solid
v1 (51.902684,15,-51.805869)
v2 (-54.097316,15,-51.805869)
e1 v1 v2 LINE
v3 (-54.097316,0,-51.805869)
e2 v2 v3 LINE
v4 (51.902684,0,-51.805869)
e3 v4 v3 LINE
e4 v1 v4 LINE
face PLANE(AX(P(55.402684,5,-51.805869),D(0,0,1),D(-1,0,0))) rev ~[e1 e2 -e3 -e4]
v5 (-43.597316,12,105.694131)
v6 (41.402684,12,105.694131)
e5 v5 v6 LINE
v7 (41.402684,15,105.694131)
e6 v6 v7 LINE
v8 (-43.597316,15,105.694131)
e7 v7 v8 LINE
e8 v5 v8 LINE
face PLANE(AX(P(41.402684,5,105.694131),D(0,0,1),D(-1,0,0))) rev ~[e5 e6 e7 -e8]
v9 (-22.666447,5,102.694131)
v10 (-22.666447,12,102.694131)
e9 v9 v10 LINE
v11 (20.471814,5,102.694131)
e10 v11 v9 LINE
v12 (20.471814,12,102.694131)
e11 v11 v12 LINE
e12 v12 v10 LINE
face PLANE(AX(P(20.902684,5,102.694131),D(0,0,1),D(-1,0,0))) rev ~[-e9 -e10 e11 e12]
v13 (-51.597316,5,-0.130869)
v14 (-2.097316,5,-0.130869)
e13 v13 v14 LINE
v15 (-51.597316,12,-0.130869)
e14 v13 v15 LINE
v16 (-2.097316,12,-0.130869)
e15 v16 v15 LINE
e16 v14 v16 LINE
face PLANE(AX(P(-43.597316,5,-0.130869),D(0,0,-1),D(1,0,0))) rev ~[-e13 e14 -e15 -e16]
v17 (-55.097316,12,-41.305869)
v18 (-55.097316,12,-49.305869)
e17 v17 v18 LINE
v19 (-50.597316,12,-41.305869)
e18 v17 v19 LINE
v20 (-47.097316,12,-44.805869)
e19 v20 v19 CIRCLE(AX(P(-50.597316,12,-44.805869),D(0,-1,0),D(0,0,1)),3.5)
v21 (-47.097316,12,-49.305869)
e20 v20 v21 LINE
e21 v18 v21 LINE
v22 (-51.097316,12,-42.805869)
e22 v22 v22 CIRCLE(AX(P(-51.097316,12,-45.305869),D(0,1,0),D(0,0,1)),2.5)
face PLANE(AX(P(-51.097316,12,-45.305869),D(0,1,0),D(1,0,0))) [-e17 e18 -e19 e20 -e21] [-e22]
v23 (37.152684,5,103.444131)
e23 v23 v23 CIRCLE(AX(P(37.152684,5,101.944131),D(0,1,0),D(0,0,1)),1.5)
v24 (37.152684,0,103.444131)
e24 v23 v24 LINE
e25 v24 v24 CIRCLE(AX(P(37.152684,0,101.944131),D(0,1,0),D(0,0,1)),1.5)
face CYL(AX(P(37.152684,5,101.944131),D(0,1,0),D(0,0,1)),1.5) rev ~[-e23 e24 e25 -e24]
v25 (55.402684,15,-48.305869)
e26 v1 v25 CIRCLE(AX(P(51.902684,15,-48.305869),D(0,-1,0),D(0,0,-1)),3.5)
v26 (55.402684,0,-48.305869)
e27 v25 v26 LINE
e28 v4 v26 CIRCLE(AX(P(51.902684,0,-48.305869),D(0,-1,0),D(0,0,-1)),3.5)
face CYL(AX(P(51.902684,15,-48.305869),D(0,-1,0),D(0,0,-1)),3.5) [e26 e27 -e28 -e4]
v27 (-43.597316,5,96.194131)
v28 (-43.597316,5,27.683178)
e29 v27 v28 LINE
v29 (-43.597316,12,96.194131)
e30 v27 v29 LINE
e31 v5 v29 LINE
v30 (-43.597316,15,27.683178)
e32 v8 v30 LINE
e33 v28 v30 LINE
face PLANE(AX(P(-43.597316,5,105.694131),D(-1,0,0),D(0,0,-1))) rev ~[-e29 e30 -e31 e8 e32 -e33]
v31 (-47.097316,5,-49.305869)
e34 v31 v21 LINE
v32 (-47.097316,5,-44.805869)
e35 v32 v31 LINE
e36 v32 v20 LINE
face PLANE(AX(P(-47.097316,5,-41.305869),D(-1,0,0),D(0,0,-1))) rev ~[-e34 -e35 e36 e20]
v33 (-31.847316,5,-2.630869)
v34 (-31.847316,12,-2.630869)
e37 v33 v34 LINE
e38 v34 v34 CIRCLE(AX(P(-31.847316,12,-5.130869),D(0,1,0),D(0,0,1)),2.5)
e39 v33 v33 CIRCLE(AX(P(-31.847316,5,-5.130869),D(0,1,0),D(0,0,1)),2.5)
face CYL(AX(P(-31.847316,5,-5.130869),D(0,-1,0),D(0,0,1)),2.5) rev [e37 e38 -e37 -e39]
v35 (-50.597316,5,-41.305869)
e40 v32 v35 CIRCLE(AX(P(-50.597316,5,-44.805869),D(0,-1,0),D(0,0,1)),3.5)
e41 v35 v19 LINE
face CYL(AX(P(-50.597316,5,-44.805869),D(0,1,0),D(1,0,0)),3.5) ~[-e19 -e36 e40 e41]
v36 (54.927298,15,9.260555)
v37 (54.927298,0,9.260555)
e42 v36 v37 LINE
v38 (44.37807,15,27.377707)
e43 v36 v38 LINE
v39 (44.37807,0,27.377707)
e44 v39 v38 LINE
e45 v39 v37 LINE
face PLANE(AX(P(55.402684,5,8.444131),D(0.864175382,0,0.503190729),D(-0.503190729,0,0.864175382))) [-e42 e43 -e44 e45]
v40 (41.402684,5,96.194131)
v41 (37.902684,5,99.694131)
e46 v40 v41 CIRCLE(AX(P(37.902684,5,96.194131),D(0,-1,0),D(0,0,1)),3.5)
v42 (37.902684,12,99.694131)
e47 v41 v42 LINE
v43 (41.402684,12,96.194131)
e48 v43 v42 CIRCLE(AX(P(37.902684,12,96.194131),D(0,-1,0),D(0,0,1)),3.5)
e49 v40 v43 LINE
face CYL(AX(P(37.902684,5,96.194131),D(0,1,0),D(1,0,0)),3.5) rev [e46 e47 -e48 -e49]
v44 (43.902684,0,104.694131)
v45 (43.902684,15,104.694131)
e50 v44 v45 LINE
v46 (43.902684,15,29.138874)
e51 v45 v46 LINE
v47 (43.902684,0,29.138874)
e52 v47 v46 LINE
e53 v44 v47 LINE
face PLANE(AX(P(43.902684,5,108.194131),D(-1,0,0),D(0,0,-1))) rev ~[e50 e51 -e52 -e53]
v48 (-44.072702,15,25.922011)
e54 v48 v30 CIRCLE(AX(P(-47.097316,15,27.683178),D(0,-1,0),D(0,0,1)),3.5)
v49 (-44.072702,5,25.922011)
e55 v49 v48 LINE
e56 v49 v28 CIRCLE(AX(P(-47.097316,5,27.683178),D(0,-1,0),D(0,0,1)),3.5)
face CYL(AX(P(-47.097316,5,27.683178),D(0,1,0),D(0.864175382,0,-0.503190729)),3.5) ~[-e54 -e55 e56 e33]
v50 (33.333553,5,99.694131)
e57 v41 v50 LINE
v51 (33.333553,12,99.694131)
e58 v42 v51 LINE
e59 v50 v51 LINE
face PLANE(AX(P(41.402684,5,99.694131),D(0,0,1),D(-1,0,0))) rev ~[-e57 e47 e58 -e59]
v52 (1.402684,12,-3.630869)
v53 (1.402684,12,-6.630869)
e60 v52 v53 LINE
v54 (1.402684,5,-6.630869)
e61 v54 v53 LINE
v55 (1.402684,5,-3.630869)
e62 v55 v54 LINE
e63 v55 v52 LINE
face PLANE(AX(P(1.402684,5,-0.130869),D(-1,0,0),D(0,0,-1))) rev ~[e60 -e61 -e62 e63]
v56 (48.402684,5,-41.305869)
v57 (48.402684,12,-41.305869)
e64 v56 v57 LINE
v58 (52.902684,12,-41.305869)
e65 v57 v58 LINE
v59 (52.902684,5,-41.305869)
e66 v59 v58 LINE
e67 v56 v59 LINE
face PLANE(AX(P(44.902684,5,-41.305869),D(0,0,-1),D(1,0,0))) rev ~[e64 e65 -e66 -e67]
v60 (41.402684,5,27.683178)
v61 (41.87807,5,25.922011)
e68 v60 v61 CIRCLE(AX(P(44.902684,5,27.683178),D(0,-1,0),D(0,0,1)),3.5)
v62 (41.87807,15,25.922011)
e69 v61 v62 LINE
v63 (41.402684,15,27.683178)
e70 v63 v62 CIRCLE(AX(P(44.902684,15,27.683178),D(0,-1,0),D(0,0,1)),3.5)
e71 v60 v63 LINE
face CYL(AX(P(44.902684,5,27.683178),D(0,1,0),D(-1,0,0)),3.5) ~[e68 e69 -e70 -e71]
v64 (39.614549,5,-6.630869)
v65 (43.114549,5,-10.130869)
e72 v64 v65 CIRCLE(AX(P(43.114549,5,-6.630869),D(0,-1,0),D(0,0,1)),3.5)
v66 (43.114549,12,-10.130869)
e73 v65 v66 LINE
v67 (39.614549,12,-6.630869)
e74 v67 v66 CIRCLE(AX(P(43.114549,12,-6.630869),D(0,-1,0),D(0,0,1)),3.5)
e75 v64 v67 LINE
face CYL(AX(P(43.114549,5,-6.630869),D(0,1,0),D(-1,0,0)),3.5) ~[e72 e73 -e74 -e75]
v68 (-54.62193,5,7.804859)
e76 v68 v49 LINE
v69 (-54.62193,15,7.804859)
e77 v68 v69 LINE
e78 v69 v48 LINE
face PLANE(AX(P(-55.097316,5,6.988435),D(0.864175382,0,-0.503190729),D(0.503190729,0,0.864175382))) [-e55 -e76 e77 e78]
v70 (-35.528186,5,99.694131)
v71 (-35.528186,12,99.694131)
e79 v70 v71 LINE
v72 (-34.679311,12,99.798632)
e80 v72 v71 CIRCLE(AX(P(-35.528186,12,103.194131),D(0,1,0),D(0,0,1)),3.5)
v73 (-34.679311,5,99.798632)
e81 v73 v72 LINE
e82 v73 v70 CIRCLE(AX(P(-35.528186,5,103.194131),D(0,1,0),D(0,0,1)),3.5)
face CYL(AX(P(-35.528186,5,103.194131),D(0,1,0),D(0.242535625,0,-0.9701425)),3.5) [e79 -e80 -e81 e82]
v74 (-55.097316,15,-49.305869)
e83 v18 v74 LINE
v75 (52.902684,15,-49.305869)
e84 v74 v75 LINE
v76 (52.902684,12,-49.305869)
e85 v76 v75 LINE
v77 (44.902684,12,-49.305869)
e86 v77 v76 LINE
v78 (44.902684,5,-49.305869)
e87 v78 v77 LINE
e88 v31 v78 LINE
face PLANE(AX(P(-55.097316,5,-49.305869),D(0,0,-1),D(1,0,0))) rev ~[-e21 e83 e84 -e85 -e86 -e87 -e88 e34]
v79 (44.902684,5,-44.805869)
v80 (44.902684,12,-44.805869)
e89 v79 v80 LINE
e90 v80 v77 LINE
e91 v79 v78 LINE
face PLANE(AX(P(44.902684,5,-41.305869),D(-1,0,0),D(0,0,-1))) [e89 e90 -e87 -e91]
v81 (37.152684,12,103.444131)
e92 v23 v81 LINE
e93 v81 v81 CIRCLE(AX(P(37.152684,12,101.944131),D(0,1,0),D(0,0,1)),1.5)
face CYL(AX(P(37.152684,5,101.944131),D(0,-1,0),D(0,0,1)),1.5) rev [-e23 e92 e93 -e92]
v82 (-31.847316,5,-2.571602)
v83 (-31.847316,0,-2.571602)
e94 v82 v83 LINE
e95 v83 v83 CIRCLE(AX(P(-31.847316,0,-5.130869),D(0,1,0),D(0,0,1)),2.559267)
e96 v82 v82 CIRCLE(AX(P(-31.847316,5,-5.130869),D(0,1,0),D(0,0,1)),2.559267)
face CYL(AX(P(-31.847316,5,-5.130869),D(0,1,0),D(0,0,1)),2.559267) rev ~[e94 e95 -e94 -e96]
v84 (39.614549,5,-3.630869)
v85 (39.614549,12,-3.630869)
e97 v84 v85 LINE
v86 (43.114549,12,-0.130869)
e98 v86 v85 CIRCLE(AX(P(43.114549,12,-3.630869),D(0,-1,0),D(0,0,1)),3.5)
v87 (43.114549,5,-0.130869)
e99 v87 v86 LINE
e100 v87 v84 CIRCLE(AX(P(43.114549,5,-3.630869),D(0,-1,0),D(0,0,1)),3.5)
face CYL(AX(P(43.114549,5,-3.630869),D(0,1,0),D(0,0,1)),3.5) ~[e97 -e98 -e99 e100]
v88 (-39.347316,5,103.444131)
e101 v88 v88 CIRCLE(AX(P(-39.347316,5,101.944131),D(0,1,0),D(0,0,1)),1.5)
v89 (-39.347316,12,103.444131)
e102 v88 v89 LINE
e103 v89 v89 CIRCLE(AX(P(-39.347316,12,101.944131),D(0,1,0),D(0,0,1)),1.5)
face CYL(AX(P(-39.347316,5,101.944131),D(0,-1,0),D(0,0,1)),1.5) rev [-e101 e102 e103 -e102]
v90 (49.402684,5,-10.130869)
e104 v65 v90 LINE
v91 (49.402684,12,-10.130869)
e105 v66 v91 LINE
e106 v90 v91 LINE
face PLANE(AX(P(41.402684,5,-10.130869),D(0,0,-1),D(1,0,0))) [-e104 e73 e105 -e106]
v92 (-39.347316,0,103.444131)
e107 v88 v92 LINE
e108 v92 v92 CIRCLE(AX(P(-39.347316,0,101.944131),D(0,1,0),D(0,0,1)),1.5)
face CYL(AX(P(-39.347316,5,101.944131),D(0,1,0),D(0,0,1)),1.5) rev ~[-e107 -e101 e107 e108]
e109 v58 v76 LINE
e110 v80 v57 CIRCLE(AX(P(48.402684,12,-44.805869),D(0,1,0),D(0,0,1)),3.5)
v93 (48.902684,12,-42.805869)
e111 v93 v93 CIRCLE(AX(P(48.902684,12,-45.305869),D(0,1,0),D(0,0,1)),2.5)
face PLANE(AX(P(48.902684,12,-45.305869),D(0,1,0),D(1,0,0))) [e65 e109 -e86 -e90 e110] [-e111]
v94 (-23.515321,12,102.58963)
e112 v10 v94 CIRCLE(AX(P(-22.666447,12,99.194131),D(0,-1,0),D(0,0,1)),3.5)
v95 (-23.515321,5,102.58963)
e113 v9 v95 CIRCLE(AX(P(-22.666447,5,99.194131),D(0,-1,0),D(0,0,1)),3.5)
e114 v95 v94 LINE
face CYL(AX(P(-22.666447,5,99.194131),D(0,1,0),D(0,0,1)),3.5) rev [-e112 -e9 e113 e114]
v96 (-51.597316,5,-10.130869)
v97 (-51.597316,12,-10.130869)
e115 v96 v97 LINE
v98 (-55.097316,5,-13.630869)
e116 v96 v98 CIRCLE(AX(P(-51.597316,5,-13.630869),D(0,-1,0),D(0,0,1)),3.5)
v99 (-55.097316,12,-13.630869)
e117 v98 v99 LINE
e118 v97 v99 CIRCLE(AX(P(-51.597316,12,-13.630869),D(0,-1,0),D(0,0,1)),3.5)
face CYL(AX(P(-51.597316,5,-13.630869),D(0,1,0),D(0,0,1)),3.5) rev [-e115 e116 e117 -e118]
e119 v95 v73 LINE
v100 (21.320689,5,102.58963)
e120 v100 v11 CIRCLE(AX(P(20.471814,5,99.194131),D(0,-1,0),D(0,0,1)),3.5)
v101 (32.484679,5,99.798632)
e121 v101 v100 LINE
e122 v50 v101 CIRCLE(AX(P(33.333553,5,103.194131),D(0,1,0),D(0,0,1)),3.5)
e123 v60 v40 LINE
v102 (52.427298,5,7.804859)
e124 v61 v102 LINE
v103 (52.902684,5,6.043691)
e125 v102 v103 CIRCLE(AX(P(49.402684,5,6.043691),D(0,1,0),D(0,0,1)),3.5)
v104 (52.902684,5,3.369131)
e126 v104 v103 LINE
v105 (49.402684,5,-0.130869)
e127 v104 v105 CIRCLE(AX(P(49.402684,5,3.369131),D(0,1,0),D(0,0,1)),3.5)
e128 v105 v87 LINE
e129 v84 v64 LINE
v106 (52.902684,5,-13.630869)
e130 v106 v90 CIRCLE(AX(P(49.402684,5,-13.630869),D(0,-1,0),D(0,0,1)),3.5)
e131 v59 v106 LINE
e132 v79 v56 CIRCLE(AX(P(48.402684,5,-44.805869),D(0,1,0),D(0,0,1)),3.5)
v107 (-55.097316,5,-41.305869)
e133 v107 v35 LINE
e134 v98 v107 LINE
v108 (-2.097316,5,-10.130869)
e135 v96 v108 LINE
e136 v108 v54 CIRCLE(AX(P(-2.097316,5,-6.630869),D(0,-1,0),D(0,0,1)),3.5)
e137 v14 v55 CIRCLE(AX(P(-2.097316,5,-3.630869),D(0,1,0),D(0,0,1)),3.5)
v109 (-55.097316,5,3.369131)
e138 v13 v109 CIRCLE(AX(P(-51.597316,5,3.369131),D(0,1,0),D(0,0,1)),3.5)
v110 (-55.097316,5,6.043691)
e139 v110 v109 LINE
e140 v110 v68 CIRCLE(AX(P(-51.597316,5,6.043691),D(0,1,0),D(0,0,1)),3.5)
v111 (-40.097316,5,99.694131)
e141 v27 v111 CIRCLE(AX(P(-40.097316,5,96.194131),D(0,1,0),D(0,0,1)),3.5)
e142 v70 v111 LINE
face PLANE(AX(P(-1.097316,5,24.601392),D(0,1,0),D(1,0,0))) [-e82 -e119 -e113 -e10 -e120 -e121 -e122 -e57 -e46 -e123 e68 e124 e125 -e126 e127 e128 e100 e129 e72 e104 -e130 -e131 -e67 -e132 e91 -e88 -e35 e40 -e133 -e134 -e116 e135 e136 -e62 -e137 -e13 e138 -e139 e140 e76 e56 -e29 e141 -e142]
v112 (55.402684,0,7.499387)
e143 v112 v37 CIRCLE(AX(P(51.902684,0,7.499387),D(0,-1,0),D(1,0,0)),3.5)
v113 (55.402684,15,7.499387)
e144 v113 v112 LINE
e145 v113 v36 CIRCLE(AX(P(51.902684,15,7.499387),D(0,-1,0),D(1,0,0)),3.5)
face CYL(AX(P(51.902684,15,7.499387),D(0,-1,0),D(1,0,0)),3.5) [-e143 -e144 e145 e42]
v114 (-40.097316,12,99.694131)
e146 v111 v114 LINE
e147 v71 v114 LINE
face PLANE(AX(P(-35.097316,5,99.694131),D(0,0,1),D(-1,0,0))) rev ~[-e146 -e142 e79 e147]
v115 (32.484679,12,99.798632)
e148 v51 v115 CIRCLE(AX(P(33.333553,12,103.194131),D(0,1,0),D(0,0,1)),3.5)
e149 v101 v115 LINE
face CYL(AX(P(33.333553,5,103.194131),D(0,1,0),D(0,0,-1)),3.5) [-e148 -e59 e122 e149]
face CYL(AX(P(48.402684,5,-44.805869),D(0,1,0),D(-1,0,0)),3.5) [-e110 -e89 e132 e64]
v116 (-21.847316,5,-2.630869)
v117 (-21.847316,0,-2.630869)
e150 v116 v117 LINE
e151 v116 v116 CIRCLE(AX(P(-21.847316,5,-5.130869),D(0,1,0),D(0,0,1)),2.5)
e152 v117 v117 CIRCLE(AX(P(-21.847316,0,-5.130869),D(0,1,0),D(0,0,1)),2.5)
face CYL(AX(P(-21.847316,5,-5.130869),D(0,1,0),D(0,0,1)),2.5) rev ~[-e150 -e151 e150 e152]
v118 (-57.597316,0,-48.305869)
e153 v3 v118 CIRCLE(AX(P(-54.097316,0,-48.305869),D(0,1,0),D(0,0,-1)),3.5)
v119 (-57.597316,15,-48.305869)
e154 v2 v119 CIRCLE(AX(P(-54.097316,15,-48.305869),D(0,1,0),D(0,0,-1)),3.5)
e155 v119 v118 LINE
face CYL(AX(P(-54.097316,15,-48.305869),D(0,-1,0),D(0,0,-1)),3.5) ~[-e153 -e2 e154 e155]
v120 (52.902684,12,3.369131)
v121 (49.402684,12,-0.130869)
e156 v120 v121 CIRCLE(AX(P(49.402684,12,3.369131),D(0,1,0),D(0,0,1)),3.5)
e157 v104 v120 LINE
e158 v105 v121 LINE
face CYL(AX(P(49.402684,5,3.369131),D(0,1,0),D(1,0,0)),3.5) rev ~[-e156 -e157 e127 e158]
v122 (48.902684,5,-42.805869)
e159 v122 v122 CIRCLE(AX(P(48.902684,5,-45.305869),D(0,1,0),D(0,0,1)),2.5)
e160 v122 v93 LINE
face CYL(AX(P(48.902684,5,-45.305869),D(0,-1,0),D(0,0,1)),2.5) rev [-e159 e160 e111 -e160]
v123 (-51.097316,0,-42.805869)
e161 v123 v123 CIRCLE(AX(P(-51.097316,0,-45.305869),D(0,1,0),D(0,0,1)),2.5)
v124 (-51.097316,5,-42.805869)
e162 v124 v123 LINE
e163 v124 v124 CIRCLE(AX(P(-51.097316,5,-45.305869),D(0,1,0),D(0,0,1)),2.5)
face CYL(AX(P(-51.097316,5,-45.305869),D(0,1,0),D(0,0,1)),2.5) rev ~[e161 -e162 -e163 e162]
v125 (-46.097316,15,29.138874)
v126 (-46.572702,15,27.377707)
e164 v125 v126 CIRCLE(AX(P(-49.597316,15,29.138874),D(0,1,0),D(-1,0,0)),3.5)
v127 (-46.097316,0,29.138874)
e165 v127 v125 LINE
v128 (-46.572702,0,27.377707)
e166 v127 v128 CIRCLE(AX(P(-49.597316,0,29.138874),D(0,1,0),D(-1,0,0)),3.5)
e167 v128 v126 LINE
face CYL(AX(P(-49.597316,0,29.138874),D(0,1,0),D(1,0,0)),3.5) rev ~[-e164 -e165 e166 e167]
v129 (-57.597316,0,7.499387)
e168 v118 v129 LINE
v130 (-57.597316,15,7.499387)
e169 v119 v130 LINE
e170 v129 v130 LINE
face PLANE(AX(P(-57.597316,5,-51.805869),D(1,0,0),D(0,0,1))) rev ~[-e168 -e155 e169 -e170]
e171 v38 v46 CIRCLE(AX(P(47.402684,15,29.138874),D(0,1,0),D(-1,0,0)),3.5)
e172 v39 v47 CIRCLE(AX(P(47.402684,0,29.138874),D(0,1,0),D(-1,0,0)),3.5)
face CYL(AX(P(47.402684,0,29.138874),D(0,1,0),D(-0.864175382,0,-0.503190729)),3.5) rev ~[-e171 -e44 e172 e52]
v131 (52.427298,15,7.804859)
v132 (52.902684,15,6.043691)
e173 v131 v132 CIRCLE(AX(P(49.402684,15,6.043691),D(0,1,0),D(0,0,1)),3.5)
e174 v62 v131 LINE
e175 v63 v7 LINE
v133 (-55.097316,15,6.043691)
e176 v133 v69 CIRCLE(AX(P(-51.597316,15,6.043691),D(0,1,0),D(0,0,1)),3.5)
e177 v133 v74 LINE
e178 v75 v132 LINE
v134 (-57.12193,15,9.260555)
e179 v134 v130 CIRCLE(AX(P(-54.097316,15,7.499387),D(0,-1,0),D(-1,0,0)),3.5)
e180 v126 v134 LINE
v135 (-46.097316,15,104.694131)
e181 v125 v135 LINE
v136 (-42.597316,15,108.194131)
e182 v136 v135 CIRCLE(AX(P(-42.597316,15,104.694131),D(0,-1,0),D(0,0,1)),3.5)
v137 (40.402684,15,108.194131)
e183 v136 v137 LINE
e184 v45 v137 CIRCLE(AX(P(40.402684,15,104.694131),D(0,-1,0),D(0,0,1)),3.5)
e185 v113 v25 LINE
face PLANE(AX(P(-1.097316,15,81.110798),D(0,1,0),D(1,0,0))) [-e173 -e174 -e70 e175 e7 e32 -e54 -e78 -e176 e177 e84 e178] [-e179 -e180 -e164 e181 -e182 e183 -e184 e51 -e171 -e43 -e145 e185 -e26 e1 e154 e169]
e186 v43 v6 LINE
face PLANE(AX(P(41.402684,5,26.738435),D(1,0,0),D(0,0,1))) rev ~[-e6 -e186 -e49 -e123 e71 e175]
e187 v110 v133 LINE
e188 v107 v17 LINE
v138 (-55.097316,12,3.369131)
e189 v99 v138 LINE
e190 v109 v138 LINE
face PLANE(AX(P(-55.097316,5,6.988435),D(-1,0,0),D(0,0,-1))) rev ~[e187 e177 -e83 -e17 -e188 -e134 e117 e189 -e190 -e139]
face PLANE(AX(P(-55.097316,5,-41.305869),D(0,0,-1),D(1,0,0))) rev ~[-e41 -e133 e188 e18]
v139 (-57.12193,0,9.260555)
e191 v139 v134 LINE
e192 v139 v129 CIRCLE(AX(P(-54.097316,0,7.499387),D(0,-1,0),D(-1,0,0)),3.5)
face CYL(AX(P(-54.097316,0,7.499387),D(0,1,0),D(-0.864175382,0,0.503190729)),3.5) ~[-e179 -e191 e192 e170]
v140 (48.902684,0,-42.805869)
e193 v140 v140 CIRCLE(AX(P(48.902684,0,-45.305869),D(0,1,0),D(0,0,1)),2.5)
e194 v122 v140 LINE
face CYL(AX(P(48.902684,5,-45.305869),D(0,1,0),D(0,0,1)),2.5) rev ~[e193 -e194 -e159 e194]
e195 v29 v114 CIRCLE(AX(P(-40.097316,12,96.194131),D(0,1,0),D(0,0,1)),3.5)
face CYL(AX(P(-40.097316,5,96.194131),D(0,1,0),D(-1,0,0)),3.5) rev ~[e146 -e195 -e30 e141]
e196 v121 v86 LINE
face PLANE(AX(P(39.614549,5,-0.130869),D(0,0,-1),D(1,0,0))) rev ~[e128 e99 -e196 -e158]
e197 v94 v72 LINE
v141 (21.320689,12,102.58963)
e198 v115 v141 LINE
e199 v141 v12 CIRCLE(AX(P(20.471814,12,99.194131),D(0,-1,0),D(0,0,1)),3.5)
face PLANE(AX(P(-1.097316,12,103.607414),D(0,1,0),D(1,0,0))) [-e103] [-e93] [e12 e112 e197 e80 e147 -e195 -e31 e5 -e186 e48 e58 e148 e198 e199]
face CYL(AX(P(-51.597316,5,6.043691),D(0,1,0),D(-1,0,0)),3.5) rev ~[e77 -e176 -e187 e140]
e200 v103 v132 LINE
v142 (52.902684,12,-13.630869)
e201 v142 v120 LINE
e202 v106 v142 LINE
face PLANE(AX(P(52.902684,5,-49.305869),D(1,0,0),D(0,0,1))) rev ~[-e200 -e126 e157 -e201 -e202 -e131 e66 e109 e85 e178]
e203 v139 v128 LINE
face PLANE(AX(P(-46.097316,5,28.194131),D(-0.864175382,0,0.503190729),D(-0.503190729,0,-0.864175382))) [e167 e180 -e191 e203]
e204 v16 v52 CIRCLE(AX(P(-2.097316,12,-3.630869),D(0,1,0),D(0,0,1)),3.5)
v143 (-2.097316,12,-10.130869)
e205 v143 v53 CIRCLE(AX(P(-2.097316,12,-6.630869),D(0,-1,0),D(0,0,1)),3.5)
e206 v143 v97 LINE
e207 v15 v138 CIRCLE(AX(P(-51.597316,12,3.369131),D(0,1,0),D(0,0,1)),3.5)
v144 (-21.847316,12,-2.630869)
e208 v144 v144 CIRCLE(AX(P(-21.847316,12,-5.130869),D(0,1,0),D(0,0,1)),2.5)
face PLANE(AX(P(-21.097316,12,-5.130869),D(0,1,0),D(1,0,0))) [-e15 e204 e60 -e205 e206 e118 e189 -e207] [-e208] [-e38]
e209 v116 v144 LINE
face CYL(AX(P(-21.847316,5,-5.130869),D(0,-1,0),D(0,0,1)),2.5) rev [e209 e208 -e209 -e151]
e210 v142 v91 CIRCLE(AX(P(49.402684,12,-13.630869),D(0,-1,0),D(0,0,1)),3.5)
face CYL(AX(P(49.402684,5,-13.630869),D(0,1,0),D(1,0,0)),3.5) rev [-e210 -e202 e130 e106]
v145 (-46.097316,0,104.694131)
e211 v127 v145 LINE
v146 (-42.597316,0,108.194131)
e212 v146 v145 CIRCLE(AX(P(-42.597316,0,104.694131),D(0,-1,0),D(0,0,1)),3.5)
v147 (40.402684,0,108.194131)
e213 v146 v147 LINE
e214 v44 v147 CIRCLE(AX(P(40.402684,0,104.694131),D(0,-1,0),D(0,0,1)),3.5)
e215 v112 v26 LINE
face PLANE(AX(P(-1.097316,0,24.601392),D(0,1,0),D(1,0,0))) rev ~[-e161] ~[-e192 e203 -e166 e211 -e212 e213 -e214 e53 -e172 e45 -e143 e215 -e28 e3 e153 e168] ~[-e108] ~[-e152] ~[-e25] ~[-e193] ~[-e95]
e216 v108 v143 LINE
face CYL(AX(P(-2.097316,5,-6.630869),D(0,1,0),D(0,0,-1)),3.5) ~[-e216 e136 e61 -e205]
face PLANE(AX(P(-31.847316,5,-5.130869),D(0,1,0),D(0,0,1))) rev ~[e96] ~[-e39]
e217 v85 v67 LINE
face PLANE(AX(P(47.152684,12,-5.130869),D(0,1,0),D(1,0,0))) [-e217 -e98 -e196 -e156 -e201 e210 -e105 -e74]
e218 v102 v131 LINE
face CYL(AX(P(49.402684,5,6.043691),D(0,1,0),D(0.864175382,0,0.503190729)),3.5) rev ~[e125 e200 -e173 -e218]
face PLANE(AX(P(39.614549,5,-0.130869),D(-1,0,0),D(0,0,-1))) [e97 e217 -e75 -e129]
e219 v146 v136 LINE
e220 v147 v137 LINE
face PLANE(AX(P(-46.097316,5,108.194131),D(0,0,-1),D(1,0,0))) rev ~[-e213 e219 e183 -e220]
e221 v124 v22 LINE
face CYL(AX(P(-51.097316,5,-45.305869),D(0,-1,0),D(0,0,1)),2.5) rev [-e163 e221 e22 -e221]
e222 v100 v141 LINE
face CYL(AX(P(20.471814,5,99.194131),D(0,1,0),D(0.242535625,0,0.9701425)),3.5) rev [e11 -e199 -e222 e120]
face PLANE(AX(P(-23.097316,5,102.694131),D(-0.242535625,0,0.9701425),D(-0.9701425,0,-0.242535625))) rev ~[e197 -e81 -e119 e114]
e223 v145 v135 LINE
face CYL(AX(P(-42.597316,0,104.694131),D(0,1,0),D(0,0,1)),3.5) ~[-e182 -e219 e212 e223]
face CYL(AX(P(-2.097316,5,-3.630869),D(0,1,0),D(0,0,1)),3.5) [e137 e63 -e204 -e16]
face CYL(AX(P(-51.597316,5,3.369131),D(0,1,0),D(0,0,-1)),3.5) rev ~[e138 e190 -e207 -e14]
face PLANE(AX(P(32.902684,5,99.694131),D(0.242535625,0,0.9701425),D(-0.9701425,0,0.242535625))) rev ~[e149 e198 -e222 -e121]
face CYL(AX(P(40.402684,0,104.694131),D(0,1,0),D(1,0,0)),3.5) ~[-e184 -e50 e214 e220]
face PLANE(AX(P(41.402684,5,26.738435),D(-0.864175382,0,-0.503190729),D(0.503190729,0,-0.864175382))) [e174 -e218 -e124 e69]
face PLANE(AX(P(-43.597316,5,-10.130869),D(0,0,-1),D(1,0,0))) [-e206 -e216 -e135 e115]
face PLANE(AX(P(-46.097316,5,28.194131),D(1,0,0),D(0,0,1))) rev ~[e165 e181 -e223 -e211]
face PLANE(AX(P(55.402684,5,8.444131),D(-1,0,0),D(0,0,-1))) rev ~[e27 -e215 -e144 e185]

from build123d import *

# Parameters (mm, degrees)
BOSS_EXTRUDE1_DEPTH = 5
BOSS_EXTRUDE2_DEPTH = 10
SKETCH3_R           = 1.5
SKETCH3_W           = 8
SKETCH3_H           = 8
SKETCH3_R_2         = 2.5
BOSS_EXTRUDE3_DEPTH = 7
SKETCH4_W           = 45
SKETCH4_H           = 10
SKETCH4_R           = 2.5
SKETCH4_W_2         = 1.788134659
SKETCH4_W_3         = 11.5
BOSS_EXTRUDE4_DEPTH = 7
FILLET1_R           = 3.5
SKETCH5_R           = 2.5
SKETCH5_R_2         = 2.55926668
SKETCH5_R_3         = 1.5
CUT_EXTRUDE1_DEPTH  = 123.977318254


with BuildPart() as part:
    # Sketch1 → Boss-Extrude1 (new body)
    with BuildSketch(Plane(origin=(0, 0, 0), x_dir=(1, 0, 0), z_dir=(0, 1, 0))):
        Polygon((-57.597316241, 51.805869074), (-57.597316241, -8.444130926), (-46.097316241, -28.194130926), (-46.097316241, -108.194130926), (43.902683759, -108.194130926), (43.902683759, -28.194130926), (55.402683759, -8.444130926), (55.402683759, 51.805869074), align=None)
    extrude(amount=BOSS_EXTRUDE1_DEPTH)

    # Sketch2 → Boss-Extrude2 (add)
    with BuildSketch(Plane(origin=(0, 5, 0), x_dir=(1, 0, 0), z_dir=(0, 1, 0))):
        Polygon((-46.097316241, -28.194130926), (-46.097316241, -108.194130926), (43.902683759, -108.194130926), (43.902683759, -28.194130926), (41.402683759, -28.194130926), (41.402683759, -105.694130926), (-43.597316241, -105.694130926), (-43.597316241, -28.194130926), align=None)
        Polygon((52.902683759, -6.988434723), (55.402683759, -8.444130926), (43.902683759, -28.194130926), (41.402683759, -26.738434723), align=None)
        Polygon((41.402683759, -28.194130926), (43.902683759, -28.194130926), (41.402683759, -26.738434723), align=None)
        Polygon((52.902683759, -6.988434723), (55.402683759, -8.444130926), (55.402683759, -6.988434723), align=None)
        Polygon((-57.597316241, 51.805869074), (-57.597316241, -6.988434723), (-55.097316241, -6.988434723), (-55.097316241, 49.305869074), (52.902683759, 49.305869074), (52.902683759, -6.988434723), (55.402683759, -6.988434723), (55.402683759, 51.805869074), align=None)
        Polygon((-43.597316241, -26.738434723), (-46.097316241, -28.194130926), (-43.597316241, -28.194130926), align=None)
        Polygon((-43.597316241, -26.738434723), (-46.097316241, -28.194130926), (-57.597316241, -8.444130926), (-55.097316241, -6.988434723), align=None)
        Polygon((-57.597316241, -6.988434723), (-57.597316241, -8.444130926), (-55.097316241, -6.988434723), align=None)
    extrude(amount=BOSS_EXTRUDE2_DEPTH)

    # Sketch3 → Boss-Extrude3 (add)
    # profile 1 of 3: a face of its own
    with BuildSketch(Plane(origin=(0, 5, 0), x_dir=(1, 0, 0), z_dir=(0, 1, 0))):
        Polygon((-43.597316241, -99.694130926), (-43.597316241, -105.694130926), (41.402683759, -105.694130926), (41.402683759, -99.694130926), (32.902683759, -99.694130926), (20.902683759, -102.694130926), (-23.097316241, -102.694130926), (-35.097316241, -99.694130926), align=None)
        with Locations(Location((-39.347316241, -101.944130926, 0), (0, 0, 270))):
            Circle(SKETCH3_R, mode=Mode.SUBTRACT)
        with Locations(Location((37.152683759, -101.944130926, 0), (0, 0, 270))):
            Circle(SKETCH3_R, mode=Mode.SUBTRACT)
    # profile 2 of 3: a face of its own
    with BuildSketch(Plane(origin=(0, 5, 0), x_dir=(1, 0, 0), z_dir=(0, 1, 0))):
        with Locations((-51.097316241, 45.305869074)):
            Rectangle(SKETCH3_W, SKETCH3_H)
        with Locations(Location((-51.097316241, 45.305869074, 0), (0, 0, 270))):
            Circle(SKETCH3_R_2, mode=Mode.SUBTRACT)
    # profile 3 of 3: a face of its own
    with BuildSketch(Plane(origin=(0, 5, 0), x_dir=(1, 0, 0), z_dir=(0, 1, 0))):
        with Locations((48.902683759, 45.305869074)):
            Rectangle(SKETCH3_W, SKETCH3_H)
        with Locations(Location((48.902683759, 45.305869074, 0), (0, 0, 270))):
            Circle(SKETCH3_R_2, mode=Mode.SUBTRACT)
    extrude(amount=BOSS_EXTRUDE3_DEPTH)

    # Sketch4 → Boss-Extrude4 (add)
    # profile 1 of 4: a face of its own
    with BuildSketch(Plane(origin=(0, 5, 0), x_dir=(1, 0, 0), z_dir=(0, 1, 0))):
        with Locations((-21.097316241, 5.130869074)):
            Rectangle(SKETCH4_W, SKETCH4_H)
        with Locations(Location((-31.847316241, 5.130869074, 0), (0, 0, 270))):
            Circle(SKETCH4_R, mode=Mode.SUBTRACT)
        with Locations(Location((-21.847316241, 5.130869074, 0), (0, 0, 270))):
            Circle(SKETCH4_R, mode=Mode.SUBTRACT)
    # profile 2 of 4: a face of its own
    with BuildSketch(Plane(origin=(0, 5, 0), x_dir=(1, 0, 0), z_dir=(0, 1, 0))):
        with Locations((40.50861643, 5.130869074)):
            Rectangle(SKETCH4_W_2, SKETCH4_H)
    # profile 3 of 4: a face of its own
    with BuildSketch(Plane(origin=(0, 5, 0), x_dir=(1, 0, 0), z_dir=(0, 1, 0))):
        with Locations((-49.347316241, 5.130869074)):
            Rectangle(SKETCH4_W_3, SKETCH4_H)
    # profile 4 of 4: a face of its own
    with BuildSketch(Plane(origin=(0, 5, 0), x_dir=(1, 0, 0), z_dir=(0, 1, 0))):
        with Locations((47.152683759, 5.130869074)):
            Rectangle(SKETCH4_W_3, SKETCH4_H)
    extrude(amount=BOSS_EXTRUDE4_DEPTH)

    # Fillet1
    fillet1_edges = [part.edges().sort_by_distance(p)[0] for p in [
        (41.402683759, 8.5, 99.694130926),
        (32.902683759, 8.5, 99.694130926),
        (20.902683759, 8.5, 102.694130926),
        (-23.097316241, 8.5, 102.694130926),
        (-35.097316241, 8.5, 99.694130926),
        (-43.597316241, 8.5, 99.694130926),
        (-47.097316241, 8.5, -41.305869074),
        (44.902683759, 8.5, -41.305869074),
        (55.402683759, 7.5, 8.444130926),
        (43.902683759, 7.5, 28.194130926),
        (43.902683759, 7.5, 108.194130926),
        (-46.097316241, 7.5, 108.194130926),
        (-46.097316241, 7.5, 28.194130926),
        (-57.597316241, 7.5, 8.444130926),
        (-57.597316241, 7.5, -51.805869074),
        (55.402683759, 7.5, -51.805869074),
        (52.902683759, 8.5, -10.130869074),
        (39.6145491, 8.5, -10.130869074),
        (39.6145491, 8.5, -0.130869074),
        (52.902683759, 8.5, -0.130869074),
        (1.402683759, 8.5, -10.130869074),
        (1.402683759, 8.5, -0.130869074),
        (-55.097316241, 8.5, -0.130869074),
        (-55.097316241, 8.5, -10.130869074),
        (-43.597316241, 10, 26.738434723),
        (-55.097316241, 10, 6.988434723),
        (52.902683759, 10, 6.988434723),
        (41.402683759, 10, 26.738434723),
    ]]
    fillet(fillet1_edges, radius=FILLET1_R)

    # Sketch5 → Cut-Extrude1 (cut, through all)
    with BuildSketch(Plane(origin=(0, 5, 0), x_dir=(1, 0, 0), z_dir=(0, 1, 0))):
        with Locations(Location((-21.847316241, 5.130869074, 0), (0, 0, 270))):
            Circle(SKETCH5_R)
        with Locations(Location((-31.847316241, 5.130869074, 0), (0, 0, 270))):
            Circle(SKETCH5_R_2)
        with Locations(Location((-39.347316241, -101.944130926, 0), (0, 0, 270))):
            Circle(SKETCH5_R_3)
        with Locations(Location((37.152683759, -101.944130926, 0), (0, 0, 270))):
            Circle(SKETCH5_R_3)
        with Locations(Location((-51.097316241, 45.305869074, 0), (0, 0, 270))):
            Circle(SKETCH5_R)
        with Locations(Location((48.902683759, 45.305869074, 0), (0, 0, 270))):
            Circle(SKETCH5_R)
    extrude(amount=-CUT_EXTRUDE1_DEPTH, mode=Mode.SUBTRACT)


solid = part.part
